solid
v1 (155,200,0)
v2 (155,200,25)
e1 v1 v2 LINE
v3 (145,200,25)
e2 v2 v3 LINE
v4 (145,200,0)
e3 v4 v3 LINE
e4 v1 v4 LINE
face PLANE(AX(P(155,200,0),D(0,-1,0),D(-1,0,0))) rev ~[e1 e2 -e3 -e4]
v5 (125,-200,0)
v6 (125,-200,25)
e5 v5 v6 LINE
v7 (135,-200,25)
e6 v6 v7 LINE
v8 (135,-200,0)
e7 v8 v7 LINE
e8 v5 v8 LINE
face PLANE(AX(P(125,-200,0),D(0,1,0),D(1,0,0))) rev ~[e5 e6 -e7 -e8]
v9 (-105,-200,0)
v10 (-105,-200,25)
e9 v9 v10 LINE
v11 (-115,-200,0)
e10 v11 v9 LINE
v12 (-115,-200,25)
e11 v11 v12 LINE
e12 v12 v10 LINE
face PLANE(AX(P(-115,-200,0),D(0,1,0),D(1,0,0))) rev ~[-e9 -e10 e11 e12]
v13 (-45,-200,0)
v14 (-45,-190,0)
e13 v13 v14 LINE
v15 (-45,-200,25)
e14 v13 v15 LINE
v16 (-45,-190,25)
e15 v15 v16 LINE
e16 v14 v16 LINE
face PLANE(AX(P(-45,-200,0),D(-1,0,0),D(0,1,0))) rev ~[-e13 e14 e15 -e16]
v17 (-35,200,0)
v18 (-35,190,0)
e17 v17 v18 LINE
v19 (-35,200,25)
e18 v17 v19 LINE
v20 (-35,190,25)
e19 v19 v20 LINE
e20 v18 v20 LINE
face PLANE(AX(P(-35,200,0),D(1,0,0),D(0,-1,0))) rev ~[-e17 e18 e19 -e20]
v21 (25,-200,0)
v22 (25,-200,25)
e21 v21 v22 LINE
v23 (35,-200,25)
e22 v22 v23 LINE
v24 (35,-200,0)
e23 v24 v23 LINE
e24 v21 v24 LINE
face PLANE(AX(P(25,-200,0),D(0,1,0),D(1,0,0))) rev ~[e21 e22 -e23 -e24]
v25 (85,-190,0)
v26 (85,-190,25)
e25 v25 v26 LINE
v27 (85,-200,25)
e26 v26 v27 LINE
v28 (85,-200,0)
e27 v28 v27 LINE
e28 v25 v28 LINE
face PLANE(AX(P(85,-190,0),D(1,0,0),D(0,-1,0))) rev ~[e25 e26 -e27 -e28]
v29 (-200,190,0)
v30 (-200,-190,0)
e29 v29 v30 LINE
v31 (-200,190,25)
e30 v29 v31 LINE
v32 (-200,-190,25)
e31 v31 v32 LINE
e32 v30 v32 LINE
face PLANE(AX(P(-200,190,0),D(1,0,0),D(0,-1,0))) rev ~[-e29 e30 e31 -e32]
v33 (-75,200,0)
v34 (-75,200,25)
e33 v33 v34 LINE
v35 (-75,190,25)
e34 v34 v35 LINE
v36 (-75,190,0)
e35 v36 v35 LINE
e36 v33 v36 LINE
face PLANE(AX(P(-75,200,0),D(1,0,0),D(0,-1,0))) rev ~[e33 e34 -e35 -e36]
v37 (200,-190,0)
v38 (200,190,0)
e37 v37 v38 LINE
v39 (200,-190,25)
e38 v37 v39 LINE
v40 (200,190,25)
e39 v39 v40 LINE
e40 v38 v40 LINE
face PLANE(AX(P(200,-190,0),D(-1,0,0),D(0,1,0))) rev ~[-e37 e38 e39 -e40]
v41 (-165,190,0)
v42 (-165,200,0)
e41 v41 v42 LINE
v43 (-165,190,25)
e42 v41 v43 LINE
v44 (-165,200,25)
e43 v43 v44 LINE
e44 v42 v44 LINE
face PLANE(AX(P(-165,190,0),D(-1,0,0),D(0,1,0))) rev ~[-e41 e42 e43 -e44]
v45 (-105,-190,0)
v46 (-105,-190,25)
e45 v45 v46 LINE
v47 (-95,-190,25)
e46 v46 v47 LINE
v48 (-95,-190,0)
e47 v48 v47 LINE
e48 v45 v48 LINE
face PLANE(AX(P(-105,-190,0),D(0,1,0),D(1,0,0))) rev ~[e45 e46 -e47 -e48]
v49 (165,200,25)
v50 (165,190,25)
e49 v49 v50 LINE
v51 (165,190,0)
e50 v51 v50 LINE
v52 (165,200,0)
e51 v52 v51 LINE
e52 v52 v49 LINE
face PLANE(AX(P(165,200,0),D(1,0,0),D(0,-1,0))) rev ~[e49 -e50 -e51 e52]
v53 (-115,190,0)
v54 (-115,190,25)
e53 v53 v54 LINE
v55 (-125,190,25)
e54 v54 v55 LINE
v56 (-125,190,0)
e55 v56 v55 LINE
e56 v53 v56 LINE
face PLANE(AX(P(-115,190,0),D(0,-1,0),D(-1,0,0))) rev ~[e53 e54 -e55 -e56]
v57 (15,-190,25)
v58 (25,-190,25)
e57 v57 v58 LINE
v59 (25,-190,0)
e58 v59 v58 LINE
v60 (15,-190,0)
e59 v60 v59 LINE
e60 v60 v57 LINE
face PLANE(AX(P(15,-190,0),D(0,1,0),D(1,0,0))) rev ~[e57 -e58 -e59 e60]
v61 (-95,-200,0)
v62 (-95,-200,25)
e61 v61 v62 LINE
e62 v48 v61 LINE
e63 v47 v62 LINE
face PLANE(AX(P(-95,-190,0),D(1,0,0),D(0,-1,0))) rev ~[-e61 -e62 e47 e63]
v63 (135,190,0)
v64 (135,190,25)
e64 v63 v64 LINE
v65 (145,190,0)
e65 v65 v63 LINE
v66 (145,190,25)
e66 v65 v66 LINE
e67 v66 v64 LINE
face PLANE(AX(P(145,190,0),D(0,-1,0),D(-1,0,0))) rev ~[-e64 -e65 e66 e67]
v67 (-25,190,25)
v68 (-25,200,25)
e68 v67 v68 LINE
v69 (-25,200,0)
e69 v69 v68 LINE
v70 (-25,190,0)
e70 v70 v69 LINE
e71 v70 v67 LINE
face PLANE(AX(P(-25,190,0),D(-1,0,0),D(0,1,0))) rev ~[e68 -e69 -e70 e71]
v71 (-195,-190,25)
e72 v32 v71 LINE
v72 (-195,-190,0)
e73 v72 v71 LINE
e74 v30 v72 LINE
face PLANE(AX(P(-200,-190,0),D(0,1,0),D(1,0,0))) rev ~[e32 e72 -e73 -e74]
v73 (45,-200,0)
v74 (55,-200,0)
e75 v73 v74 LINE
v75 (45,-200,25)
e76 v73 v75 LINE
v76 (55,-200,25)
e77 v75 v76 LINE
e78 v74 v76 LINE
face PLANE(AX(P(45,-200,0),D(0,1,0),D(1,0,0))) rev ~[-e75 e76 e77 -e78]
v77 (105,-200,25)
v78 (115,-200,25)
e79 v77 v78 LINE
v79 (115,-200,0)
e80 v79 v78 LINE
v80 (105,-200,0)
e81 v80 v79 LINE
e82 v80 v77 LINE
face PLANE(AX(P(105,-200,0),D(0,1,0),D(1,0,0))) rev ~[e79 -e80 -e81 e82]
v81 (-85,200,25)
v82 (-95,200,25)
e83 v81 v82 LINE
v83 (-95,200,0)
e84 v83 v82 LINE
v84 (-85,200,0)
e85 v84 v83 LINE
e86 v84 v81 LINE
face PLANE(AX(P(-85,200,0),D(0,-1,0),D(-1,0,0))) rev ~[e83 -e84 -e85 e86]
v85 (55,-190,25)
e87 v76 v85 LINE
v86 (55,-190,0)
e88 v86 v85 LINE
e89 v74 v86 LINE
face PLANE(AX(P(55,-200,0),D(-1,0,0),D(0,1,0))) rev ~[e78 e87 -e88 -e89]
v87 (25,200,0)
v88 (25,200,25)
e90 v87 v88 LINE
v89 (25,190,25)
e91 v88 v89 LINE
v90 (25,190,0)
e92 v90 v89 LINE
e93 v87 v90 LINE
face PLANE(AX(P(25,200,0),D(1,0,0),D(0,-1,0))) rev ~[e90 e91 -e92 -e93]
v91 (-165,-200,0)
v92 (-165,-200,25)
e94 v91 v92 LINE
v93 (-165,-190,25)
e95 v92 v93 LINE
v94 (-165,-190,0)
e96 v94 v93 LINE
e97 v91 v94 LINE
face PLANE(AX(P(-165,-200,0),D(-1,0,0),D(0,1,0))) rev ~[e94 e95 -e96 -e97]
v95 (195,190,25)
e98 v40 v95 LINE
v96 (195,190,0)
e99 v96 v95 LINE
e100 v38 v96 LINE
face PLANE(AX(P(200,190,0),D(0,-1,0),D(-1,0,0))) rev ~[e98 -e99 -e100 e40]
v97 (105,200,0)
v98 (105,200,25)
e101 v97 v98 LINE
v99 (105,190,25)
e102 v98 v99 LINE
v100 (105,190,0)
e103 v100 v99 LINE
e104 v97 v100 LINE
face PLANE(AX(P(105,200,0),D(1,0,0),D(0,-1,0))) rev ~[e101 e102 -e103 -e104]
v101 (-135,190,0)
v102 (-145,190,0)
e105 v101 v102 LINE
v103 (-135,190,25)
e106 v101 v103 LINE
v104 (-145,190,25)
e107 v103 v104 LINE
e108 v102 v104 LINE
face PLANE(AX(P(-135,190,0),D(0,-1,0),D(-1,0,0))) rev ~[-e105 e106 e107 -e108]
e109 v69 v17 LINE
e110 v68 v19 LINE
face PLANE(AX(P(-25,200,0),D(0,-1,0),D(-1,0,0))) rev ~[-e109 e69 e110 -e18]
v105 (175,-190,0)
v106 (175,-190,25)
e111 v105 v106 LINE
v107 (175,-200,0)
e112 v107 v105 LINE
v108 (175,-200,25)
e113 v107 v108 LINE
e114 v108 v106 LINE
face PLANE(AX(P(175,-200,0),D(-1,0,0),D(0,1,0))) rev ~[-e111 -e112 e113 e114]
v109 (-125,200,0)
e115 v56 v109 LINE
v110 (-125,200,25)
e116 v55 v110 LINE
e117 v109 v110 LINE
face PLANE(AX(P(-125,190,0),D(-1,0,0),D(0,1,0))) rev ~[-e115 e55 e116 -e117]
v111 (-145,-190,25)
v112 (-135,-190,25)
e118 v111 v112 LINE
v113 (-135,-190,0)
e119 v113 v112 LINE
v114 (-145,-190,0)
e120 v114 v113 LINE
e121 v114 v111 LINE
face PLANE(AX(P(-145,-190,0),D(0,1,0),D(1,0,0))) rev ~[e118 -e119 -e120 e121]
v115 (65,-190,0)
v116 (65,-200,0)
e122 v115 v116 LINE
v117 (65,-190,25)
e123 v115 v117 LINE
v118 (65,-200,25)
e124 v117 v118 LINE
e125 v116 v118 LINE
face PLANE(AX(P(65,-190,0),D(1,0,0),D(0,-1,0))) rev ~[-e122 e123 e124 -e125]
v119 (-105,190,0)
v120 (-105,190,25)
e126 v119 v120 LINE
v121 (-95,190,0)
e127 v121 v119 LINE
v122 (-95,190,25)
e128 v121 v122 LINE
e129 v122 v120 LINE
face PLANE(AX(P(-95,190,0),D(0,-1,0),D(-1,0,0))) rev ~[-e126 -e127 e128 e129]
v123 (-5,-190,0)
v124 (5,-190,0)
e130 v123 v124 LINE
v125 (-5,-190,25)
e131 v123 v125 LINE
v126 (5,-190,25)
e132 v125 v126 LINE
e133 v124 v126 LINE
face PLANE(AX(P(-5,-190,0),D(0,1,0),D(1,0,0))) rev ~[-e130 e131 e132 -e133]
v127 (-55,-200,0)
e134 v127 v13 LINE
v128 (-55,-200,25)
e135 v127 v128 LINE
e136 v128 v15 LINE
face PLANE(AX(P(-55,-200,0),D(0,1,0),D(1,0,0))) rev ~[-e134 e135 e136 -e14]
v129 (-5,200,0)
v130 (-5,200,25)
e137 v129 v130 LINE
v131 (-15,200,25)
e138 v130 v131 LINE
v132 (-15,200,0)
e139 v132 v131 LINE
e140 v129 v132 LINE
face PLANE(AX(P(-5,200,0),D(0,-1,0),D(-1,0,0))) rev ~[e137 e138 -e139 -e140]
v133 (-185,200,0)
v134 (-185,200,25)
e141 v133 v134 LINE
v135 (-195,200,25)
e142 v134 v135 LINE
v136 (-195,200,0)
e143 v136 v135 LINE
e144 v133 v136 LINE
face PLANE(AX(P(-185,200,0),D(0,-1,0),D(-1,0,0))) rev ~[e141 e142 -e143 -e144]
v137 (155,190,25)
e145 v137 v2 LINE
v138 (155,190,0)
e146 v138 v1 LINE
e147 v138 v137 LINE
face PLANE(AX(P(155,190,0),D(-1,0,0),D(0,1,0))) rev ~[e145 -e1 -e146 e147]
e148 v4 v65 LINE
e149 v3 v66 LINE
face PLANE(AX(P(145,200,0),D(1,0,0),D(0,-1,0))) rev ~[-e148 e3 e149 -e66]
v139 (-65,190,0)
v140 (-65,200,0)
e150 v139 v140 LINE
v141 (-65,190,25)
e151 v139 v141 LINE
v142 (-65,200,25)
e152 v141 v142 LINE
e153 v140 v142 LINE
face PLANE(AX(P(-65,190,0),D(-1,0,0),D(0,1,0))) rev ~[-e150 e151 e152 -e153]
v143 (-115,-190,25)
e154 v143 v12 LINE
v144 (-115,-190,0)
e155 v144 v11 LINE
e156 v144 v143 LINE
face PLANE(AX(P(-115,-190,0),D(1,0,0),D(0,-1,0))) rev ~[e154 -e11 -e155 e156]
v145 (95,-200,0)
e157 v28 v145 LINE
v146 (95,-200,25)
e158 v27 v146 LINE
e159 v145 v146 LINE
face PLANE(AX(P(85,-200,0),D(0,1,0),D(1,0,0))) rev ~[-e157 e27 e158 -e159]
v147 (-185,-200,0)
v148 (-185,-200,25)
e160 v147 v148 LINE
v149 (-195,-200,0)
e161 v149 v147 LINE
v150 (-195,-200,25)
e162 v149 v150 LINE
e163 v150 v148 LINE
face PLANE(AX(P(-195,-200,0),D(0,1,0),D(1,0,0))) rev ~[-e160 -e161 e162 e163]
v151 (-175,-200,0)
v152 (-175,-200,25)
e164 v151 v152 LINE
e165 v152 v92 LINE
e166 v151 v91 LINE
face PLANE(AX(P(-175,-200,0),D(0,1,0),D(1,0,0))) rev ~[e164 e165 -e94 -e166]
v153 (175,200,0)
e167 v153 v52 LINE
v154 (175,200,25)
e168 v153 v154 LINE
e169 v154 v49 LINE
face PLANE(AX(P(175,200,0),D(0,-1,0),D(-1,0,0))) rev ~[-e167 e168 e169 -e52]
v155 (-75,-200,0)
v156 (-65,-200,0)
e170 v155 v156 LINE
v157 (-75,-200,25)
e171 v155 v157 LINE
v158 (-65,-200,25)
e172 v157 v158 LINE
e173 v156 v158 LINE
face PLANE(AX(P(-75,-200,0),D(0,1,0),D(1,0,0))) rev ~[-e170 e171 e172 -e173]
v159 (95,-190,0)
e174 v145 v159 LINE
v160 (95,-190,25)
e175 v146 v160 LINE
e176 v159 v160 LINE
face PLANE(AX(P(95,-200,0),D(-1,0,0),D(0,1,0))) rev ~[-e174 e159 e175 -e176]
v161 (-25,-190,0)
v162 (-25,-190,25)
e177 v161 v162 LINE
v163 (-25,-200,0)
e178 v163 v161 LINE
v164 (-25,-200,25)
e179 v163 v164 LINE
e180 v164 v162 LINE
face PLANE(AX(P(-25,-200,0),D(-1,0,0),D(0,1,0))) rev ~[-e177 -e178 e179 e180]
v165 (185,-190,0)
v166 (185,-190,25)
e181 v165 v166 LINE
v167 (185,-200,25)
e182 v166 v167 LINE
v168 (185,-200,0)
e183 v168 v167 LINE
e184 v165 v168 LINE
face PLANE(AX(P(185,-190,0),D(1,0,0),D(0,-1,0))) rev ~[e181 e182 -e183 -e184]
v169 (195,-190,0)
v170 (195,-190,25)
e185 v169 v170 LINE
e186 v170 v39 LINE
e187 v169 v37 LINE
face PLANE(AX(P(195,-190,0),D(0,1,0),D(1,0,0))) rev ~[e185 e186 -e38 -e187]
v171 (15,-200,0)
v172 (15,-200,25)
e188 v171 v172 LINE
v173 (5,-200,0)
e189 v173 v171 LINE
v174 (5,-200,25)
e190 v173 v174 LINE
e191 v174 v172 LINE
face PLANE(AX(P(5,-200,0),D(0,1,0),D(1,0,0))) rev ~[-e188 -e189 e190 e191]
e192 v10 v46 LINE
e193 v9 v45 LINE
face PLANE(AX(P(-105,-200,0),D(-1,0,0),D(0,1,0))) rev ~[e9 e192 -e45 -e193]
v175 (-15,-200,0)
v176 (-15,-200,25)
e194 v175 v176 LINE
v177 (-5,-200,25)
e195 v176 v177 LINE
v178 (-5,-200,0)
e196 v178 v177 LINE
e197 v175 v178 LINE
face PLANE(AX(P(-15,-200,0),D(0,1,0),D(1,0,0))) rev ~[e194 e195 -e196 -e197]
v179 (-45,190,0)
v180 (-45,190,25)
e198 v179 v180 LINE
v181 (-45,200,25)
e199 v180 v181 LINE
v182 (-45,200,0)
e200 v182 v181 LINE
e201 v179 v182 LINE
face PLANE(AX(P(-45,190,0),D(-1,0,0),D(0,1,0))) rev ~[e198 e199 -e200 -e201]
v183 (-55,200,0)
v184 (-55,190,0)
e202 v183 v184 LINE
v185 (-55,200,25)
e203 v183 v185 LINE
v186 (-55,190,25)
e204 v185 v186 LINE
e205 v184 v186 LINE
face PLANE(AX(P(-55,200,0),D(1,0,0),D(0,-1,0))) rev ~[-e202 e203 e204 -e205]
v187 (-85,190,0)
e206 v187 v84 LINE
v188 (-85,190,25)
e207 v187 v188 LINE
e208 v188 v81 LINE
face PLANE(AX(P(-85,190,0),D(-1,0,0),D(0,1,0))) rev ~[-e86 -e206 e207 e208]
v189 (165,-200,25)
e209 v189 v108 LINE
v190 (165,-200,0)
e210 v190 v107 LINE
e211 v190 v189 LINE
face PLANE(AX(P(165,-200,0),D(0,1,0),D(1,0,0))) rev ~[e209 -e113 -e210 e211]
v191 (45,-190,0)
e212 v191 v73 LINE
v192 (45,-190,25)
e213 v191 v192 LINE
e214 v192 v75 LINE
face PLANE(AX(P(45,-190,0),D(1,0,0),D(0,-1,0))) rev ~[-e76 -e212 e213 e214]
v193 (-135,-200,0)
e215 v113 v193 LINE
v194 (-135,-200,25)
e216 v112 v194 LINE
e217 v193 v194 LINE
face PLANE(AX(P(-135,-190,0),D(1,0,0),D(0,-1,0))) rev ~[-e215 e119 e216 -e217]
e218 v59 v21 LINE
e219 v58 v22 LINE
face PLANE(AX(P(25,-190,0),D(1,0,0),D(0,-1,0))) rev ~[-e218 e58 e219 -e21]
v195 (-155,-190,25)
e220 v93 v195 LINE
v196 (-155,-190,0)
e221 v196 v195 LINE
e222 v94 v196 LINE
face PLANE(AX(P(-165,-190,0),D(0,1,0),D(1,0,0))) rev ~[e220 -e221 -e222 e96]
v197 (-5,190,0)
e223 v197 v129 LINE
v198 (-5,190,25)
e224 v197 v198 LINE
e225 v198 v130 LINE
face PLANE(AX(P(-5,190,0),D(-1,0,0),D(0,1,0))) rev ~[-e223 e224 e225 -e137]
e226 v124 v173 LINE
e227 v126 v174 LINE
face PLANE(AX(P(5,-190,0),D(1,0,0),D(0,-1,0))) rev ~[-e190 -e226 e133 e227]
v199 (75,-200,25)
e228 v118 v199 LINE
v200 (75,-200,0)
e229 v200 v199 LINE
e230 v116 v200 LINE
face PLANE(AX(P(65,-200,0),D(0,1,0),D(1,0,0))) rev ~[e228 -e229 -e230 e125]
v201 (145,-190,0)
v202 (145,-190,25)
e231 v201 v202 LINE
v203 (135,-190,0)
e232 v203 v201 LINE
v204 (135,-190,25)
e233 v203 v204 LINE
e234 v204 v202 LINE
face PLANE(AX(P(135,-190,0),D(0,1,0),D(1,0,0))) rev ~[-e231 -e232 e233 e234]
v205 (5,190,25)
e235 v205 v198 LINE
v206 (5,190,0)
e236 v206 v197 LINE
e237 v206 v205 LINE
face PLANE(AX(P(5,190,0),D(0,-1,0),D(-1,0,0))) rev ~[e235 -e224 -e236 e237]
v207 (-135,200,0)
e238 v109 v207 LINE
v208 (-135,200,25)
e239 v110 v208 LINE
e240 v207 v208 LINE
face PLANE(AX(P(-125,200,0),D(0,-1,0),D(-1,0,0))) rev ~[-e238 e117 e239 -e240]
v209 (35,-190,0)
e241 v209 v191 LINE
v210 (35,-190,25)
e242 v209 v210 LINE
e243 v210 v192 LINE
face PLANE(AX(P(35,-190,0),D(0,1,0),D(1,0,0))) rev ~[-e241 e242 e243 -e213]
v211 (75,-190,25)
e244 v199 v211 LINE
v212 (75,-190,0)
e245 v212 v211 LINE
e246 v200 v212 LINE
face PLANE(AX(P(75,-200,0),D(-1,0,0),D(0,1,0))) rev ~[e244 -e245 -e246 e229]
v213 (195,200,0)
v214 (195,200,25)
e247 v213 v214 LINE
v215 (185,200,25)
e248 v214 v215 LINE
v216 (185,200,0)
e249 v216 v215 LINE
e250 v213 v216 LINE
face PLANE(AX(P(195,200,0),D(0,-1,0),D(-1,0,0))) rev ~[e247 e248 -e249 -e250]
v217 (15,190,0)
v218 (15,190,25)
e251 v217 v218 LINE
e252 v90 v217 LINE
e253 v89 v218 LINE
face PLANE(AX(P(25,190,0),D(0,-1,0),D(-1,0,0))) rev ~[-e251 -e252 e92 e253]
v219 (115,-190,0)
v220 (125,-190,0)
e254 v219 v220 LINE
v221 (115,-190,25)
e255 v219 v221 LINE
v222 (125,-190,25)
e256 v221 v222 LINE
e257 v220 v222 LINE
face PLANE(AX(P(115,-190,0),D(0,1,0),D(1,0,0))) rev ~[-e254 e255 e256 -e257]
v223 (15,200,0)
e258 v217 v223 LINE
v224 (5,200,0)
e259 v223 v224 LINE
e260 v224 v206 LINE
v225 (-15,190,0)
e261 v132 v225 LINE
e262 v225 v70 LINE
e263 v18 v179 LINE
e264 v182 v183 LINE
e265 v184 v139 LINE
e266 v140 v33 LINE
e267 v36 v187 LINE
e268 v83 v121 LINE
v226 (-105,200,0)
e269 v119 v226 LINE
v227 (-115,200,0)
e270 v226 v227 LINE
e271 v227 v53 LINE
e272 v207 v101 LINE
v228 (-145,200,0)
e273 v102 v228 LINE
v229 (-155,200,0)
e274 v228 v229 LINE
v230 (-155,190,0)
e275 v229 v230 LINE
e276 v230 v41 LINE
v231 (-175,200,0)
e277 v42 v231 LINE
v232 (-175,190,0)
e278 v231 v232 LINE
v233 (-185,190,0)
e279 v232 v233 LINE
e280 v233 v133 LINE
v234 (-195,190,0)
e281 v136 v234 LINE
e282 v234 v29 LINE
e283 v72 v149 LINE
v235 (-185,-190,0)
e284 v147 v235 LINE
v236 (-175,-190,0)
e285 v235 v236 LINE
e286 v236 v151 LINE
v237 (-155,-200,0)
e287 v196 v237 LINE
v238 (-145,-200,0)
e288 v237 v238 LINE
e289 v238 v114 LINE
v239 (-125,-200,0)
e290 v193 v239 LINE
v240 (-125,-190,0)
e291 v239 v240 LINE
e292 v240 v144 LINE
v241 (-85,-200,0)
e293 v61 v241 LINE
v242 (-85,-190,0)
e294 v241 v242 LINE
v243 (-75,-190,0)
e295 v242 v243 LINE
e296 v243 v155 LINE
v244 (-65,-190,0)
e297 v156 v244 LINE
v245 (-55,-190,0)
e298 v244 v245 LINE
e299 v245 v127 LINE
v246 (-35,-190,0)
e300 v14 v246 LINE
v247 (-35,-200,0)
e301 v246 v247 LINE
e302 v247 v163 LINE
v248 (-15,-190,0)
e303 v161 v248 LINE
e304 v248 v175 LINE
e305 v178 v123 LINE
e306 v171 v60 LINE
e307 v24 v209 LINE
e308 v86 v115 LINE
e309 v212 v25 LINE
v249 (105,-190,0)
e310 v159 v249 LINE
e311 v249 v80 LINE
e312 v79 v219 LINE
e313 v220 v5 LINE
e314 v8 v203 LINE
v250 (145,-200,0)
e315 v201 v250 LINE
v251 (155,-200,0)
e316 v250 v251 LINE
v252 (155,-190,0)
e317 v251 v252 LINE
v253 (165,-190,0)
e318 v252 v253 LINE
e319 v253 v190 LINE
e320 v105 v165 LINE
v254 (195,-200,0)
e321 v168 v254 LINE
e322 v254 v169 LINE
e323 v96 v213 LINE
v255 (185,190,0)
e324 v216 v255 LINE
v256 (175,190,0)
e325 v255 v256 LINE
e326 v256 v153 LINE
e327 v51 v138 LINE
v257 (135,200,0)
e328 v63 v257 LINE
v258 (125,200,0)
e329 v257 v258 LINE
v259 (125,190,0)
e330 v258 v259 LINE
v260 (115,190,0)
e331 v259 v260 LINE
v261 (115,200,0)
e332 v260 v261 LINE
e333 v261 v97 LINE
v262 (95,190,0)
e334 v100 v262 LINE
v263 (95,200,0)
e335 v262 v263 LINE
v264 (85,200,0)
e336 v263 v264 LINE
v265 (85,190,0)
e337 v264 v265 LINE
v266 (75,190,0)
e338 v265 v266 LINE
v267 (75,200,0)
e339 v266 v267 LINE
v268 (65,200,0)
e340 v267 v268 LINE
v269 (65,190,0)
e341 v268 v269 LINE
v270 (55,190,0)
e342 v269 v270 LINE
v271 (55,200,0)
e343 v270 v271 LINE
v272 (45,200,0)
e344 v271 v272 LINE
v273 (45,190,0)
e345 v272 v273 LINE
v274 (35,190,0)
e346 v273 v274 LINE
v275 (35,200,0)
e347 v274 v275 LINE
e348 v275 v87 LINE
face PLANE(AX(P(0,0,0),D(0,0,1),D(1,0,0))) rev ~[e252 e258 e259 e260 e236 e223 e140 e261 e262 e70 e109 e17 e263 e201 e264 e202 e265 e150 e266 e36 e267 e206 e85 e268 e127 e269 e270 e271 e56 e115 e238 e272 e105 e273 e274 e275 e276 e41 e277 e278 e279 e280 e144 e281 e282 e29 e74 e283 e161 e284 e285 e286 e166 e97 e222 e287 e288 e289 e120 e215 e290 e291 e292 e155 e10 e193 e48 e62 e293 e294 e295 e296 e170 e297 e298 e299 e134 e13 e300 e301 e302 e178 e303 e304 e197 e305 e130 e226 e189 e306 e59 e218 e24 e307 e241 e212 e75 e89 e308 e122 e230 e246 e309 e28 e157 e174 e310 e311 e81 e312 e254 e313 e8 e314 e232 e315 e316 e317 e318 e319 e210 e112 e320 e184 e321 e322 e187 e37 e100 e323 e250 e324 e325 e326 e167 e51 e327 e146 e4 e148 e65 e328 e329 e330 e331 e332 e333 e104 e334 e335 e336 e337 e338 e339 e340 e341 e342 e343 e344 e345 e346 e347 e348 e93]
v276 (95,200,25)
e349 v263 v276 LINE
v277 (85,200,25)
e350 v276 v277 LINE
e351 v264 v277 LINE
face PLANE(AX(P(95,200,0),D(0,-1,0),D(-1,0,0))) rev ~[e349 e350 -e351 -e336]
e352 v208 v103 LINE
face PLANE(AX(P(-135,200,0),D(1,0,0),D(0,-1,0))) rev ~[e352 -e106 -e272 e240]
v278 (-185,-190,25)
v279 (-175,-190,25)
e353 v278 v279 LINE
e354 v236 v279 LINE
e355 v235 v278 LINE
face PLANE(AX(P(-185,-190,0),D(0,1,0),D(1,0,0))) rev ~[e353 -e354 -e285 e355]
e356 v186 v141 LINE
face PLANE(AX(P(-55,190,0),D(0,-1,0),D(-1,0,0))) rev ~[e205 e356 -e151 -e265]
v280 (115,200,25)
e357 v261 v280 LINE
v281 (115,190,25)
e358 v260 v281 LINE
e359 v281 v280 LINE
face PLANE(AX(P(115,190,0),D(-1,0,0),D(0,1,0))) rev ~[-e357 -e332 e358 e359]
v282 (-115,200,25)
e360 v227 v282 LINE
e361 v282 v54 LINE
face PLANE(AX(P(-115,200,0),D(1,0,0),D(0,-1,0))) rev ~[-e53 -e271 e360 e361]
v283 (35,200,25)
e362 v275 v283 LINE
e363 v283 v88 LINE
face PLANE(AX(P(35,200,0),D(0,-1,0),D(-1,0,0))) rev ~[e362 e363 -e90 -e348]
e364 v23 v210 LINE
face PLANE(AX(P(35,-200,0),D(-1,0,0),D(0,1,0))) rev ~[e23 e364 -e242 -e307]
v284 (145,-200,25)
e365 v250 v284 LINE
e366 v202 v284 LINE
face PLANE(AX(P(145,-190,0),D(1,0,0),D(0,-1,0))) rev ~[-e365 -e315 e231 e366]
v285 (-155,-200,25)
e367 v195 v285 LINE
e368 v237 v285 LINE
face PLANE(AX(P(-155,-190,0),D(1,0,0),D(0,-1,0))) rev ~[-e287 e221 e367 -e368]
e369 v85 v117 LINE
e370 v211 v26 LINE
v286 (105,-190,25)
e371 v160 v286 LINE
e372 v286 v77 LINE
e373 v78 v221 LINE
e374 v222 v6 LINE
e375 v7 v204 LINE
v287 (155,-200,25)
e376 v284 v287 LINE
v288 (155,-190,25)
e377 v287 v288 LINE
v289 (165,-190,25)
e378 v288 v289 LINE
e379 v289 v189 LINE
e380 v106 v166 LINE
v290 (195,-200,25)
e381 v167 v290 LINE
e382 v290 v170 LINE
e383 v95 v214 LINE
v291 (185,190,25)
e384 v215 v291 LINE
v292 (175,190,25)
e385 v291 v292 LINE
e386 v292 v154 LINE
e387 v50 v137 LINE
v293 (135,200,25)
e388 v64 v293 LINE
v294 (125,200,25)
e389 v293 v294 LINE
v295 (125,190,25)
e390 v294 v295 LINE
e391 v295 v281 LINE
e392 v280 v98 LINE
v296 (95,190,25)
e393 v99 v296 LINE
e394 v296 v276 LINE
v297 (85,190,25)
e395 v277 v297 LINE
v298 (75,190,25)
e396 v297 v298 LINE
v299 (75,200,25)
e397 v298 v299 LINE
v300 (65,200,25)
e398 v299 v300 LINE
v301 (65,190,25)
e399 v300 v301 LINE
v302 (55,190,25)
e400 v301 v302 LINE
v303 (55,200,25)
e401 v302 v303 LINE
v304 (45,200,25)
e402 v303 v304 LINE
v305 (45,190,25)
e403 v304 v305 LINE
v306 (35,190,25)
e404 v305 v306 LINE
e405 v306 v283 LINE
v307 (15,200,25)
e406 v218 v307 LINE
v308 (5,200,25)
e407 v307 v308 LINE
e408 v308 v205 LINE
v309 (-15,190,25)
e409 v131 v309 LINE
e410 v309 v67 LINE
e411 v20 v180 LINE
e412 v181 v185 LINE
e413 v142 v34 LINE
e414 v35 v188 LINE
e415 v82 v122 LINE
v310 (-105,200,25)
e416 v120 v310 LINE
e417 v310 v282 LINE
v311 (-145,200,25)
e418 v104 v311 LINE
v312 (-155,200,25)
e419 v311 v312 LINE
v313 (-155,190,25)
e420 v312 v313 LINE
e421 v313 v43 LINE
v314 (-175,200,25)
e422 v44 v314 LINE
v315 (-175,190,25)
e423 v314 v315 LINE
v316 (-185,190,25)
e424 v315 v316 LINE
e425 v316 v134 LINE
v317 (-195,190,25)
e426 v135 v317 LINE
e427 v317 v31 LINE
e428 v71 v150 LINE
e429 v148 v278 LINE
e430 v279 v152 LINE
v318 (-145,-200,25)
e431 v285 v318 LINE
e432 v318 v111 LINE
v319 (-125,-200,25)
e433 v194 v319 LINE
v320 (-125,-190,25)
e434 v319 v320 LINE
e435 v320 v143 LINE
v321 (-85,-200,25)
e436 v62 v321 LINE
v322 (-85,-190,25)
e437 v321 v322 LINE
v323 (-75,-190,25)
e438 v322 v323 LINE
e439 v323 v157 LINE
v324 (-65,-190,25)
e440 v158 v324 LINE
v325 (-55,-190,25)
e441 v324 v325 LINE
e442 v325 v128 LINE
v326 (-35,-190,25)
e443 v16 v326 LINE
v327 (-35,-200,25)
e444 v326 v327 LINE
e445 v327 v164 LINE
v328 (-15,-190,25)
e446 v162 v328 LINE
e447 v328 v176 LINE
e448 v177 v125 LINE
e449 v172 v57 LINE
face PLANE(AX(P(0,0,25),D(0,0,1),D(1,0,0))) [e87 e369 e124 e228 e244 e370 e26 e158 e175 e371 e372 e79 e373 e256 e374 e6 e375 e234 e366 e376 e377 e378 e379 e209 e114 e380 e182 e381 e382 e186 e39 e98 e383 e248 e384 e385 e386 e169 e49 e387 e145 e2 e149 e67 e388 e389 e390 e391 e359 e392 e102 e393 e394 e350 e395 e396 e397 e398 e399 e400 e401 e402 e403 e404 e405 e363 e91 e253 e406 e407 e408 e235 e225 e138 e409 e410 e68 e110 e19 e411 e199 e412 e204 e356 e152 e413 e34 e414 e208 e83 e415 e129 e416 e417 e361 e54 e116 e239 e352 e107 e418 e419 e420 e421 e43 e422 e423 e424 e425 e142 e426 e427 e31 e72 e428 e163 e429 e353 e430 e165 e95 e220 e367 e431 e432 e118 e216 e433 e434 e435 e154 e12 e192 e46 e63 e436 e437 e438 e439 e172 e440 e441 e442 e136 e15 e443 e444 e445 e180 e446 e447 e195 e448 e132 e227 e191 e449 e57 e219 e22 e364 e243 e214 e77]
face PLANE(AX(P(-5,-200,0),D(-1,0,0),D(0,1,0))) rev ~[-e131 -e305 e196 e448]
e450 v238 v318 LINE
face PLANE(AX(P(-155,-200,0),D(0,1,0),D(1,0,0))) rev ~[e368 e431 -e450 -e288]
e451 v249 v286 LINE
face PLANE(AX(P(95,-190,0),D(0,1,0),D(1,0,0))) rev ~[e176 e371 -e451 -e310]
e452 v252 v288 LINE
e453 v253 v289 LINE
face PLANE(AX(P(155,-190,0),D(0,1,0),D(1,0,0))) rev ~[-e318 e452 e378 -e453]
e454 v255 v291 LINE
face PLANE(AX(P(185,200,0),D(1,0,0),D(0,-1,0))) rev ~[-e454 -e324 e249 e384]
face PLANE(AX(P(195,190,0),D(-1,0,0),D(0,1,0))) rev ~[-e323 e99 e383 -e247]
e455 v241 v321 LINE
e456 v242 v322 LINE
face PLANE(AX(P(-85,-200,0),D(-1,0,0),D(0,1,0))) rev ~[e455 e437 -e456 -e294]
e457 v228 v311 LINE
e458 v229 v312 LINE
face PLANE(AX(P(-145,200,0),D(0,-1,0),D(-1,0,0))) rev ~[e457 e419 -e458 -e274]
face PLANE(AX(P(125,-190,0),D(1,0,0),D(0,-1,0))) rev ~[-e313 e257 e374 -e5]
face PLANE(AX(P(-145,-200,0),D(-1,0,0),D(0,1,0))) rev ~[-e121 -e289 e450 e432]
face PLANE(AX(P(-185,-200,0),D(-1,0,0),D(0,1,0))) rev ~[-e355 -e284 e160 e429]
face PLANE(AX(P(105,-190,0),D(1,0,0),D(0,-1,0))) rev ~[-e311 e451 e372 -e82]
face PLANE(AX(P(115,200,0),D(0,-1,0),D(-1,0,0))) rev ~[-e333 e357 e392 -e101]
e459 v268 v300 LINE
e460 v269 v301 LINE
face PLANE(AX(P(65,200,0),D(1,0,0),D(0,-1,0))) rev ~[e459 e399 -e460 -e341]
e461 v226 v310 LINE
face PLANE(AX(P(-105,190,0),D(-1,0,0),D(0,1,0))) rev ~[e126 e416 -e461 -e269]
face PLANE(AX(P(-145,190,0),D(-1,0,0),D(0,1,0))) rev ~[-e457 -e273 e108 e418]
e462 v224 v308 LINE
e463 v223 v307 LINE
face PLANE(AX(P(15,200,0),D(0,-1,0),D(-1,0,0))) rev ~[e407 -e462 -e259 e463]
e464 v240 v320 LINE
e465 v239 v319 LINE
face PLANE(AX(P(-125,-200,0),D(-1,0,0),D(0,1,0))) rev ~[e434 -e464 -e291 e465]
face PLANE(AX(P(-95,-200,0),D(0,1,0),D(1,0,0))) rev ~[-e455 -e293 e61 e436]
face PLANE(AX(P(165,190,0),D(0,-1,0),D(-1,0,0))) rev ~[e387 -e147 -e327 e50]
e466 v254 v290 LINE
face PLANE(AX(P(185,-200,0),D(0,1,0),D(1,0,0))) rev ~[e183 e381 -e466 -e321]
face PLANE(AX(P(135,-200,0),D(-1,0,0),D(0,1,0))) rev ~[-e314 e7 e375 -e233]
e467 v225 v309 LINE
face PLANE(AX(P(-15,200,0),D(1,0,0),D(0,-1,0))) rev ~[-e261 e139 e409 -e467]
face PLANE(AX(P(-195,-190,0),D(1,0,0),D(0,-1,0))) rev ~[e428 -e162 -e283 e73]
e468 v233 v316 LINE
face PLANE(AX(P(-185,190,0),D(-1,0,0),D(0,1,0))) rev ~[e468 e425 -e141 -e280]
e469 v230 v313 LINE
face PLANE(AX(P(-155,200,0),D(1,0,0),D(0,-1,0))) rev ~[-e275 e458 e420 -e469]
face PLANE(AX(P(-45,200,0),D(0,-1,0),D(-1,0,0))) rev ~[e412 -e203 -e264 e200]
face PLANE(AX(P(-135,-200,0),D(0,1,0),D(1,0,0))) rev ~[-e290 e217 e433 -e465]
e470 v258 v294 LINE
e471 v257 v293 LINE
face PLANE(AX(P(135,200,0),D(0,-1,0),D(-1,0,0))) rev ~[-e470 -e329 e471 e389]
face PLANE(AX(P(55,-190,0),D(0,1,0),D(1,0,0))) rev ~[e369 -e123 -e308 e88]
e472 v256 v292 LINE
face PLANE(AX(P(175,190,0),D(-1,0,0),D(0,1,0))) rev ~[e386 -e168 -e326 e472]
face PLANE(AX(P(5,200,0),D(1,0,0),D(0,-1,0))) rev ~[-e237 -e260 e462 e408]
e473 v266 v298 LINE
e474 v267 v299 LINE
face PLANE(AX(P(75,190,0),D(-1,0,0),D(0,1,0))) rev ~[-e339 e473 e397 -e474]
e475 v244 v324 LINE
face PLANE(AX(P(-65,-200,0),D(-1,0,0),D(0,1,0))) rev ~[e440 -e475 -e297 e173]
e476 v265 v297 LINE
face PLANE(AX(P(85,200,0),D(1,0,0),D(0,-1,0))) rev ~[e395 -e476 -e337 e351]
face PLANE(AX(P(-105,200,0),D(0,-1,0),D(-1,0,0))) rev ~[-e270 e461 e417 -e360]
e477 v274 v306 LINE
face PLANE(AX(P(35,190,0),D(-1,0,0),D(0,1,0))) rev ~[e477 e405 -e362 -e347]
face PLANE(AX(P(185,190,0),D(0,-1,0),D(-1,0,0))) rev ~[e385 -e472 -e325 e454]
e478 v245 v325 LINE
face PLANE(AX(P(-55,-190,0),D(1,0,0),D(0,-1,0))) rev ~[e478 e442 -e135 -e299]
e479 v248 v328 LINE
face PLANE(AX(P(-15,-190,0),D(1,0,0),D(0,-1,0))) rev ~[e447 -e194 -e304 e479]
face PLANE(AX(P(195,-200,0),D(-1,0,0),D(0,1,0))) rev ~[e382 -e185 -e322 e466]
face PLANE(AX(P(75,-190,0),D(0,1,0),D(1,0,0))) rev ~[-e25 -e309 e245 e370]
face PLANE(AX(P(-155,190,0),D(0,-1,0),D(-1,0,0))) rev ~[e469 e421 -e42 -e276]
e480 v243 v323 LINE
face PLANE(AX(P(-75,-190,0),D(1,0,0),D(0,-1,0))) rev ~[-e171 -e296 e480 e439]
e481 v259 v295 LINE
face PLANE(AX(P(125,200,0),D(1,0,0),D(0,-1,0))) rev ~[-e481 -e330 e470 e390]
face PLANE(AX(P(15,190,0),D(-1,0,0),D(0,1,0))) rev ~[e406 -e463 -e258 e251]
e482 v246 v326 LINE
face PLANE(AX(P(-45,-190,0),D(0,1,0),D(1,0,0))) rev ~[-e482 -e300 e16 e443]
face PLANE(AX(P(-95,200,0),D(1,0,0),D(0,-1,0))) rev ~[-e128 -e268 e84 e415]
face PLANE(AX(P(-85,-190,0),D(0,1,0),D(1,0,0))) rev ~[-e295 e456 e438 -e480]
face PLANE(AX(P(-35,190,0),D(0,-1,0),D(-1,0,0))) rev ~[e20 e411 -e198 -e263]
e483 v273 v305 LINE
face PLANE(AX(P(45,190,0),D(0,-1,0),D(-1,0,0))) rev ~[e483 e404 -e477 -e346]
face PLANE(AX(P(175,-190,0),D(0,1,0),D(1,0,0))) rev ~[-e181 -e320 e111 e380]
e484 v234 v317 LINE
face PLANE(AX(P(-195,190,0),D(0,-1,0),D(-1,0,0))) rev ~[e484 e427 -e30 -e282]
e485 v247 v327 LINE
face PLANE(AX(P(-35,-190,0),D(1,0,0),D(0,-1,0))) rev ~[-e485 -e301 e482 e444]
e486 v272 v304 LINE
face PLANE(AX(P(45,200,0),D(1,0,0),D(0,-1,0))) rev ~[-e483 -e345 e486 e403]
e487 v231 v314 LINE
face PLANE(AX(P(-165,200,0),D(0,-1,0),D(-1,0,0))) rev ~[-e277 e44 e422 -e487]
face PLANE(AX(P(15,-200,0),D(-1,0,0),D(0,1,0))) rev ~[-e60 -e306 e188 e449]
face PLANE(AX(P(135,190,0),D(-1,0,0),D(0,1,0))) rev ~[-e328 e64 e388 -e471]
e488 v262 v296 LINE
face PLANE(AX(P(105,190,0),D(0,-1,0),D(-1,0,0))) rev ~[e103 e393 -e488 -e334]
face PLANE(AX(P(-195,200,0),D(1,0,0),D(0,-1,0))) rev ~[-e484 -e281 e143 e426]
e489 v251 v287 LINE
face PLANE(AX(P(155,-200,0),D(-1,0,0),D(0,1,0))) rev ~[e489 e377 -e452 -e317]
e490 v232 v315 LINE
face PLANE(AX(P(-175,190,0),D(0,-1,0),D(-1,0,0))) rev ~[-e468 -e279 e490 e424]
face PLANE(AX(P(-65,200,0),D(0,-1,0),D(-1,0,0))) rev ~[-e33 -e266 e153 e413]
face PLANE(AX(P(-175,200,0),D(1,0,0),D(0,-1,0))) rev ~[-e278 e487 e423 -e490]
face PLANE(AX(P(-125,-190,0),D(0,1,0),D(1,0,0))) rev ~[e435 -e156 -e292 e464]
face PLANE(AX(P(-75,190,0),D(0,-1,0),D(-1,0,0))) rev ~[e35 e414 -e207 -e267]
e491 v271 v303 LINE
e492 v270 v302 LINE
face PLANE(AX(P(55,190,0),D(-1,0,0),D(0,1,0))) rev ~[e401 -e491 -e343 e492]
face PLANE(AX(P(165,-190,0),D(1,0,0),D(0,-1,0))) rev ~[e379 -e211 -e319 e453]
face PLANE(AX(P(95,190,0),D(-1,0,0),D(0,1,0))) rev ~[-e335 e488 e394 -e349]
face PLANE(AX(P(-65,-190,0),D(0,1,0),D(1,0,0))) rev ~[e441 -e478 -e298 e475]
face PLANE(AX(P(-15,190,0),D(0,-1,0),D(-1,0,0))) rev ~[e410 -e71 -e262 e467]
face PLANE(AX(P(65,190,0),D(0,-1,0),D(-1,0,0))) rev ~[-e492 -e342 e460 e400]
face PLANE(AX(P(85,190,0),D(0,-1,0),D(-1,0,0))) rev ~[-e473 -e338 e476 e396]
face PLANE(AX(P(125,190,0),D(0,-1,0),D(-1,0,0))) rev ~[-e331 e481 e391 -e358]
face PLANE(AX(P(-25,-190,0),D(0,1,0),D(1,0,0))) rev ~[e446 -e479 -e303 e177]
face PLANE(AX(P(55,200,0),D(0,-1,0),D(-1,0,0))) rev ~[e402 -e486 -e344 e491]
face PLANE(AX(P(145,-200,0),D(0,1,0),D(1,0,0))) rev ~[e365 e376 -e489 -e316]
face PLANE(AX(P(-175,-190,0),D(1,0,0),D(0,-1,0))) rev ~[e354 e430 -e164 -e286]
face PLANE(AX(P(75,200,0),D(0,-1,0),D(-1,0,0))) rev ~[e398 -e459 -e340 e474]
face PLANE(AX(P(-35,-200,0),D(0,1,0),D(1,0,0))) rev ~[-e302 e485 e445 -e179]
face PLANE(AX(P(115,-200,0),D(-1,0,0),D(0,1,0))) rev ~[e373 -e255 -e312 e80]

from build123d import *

# Parameters (mm, degrees)
F1_DEPTH = 25


with BuildPart() as f1:
    # F0 (on Top) → F1 (new body)
    with BuildSketch(Plane.XY):
        Polygon((185, -200), (195, -200), (195, -190), (200, -190), (200, 190), (195, 190), (195, 200), (185, 200), (185, 190), (175, 190), (175, 200), (165, 200), (165, 190), (155, 190), (155, 200), (145, 200), (145, 190), (135, 190), (135, 200), (125, 200), (125, 190), (115, 190), (115, 200), (105, 200), (105, 190), (95, 190), (95, 200), (85, 200), (85, 190), (75, 190), (75, 200), (65, 200), (65, 190), (55, 190), (55, 200), (45, 200), (45, 190), (35, 190), (35, 200), (25, 200), (25, 190), (15, 190), (15, 200), (5, 200), (5, 190), (-5, 190), (-5, 200), (-15, 200), (-15, 190), (-25, 190), (-25, 200), (-35, 200), (-35, 190), (-45, 190), (-45, 200), (-55, 200), (-55, 190), (-65, 190), (-65, 200), (-75, 200), (-75, 190), (-85, 190), (-85, 200), (-95, 200), (-95, 190), (-105, 190), (-105, 200), (-115, 200), (-115, 190), (-125, 190), (-125, 200), (-135, 200), (-135, 190), (-145, 190), (-145, 200), (-155, 200), (-155, 190), (-165, 190), (-165, 200), (-175, 200), (-175, 190), (-185, 190), (-185, 200), (-195, 200), (-195, 190), (-200, 190), (-200, -190), (-195, -190), (-195, -200), (-185, -200), (-185, -190), (-175, -190), (-175, -200), (-165, -200), (-165, -190), (-155, -190), (-155, -200), (-145, -200), (-145, -190), (-135, -190), (-135, -200), (-125, -200), (-125, -190), (-115, -190), (-115, -200), (-105, -200), (-105, -190), (-95, -190), (-95, -200), (-85, -200), (-85, -190), (-75, -190), (-75, -200), (-65, -200), (-65, -190), (-55, -190), (-55, -200), (-45, -200), (-45, -190), (-35, -190), (-35, -200), (-25, -200), (-25, -190), (-15, -190), (-15, -200), (-5, -200), (-5, -190), (5, -190), (5, -200), (15, -200), (15, -190), (25, -190), (25, -200), (35, -200), (35, -190), (45, -190), (45, -200), (55, -200), (55, -190), (65, -190), (65, -200), (75, -200), (75, -190), (85, -190), (85, -200), (95, -200), (95, -190), (105, -190), (105, -200), (115, -200), (115, -190), (125, -190), (125, -200), (135, -200), (135, -190), (145, -190), (145, -200), (155, -200), (155, -190), (165, -190), (165, -200), (175, -200), (175, -190), (185, -190), align=None)
    extrude(amount=F1_DEPTH)


solid = f1.part
